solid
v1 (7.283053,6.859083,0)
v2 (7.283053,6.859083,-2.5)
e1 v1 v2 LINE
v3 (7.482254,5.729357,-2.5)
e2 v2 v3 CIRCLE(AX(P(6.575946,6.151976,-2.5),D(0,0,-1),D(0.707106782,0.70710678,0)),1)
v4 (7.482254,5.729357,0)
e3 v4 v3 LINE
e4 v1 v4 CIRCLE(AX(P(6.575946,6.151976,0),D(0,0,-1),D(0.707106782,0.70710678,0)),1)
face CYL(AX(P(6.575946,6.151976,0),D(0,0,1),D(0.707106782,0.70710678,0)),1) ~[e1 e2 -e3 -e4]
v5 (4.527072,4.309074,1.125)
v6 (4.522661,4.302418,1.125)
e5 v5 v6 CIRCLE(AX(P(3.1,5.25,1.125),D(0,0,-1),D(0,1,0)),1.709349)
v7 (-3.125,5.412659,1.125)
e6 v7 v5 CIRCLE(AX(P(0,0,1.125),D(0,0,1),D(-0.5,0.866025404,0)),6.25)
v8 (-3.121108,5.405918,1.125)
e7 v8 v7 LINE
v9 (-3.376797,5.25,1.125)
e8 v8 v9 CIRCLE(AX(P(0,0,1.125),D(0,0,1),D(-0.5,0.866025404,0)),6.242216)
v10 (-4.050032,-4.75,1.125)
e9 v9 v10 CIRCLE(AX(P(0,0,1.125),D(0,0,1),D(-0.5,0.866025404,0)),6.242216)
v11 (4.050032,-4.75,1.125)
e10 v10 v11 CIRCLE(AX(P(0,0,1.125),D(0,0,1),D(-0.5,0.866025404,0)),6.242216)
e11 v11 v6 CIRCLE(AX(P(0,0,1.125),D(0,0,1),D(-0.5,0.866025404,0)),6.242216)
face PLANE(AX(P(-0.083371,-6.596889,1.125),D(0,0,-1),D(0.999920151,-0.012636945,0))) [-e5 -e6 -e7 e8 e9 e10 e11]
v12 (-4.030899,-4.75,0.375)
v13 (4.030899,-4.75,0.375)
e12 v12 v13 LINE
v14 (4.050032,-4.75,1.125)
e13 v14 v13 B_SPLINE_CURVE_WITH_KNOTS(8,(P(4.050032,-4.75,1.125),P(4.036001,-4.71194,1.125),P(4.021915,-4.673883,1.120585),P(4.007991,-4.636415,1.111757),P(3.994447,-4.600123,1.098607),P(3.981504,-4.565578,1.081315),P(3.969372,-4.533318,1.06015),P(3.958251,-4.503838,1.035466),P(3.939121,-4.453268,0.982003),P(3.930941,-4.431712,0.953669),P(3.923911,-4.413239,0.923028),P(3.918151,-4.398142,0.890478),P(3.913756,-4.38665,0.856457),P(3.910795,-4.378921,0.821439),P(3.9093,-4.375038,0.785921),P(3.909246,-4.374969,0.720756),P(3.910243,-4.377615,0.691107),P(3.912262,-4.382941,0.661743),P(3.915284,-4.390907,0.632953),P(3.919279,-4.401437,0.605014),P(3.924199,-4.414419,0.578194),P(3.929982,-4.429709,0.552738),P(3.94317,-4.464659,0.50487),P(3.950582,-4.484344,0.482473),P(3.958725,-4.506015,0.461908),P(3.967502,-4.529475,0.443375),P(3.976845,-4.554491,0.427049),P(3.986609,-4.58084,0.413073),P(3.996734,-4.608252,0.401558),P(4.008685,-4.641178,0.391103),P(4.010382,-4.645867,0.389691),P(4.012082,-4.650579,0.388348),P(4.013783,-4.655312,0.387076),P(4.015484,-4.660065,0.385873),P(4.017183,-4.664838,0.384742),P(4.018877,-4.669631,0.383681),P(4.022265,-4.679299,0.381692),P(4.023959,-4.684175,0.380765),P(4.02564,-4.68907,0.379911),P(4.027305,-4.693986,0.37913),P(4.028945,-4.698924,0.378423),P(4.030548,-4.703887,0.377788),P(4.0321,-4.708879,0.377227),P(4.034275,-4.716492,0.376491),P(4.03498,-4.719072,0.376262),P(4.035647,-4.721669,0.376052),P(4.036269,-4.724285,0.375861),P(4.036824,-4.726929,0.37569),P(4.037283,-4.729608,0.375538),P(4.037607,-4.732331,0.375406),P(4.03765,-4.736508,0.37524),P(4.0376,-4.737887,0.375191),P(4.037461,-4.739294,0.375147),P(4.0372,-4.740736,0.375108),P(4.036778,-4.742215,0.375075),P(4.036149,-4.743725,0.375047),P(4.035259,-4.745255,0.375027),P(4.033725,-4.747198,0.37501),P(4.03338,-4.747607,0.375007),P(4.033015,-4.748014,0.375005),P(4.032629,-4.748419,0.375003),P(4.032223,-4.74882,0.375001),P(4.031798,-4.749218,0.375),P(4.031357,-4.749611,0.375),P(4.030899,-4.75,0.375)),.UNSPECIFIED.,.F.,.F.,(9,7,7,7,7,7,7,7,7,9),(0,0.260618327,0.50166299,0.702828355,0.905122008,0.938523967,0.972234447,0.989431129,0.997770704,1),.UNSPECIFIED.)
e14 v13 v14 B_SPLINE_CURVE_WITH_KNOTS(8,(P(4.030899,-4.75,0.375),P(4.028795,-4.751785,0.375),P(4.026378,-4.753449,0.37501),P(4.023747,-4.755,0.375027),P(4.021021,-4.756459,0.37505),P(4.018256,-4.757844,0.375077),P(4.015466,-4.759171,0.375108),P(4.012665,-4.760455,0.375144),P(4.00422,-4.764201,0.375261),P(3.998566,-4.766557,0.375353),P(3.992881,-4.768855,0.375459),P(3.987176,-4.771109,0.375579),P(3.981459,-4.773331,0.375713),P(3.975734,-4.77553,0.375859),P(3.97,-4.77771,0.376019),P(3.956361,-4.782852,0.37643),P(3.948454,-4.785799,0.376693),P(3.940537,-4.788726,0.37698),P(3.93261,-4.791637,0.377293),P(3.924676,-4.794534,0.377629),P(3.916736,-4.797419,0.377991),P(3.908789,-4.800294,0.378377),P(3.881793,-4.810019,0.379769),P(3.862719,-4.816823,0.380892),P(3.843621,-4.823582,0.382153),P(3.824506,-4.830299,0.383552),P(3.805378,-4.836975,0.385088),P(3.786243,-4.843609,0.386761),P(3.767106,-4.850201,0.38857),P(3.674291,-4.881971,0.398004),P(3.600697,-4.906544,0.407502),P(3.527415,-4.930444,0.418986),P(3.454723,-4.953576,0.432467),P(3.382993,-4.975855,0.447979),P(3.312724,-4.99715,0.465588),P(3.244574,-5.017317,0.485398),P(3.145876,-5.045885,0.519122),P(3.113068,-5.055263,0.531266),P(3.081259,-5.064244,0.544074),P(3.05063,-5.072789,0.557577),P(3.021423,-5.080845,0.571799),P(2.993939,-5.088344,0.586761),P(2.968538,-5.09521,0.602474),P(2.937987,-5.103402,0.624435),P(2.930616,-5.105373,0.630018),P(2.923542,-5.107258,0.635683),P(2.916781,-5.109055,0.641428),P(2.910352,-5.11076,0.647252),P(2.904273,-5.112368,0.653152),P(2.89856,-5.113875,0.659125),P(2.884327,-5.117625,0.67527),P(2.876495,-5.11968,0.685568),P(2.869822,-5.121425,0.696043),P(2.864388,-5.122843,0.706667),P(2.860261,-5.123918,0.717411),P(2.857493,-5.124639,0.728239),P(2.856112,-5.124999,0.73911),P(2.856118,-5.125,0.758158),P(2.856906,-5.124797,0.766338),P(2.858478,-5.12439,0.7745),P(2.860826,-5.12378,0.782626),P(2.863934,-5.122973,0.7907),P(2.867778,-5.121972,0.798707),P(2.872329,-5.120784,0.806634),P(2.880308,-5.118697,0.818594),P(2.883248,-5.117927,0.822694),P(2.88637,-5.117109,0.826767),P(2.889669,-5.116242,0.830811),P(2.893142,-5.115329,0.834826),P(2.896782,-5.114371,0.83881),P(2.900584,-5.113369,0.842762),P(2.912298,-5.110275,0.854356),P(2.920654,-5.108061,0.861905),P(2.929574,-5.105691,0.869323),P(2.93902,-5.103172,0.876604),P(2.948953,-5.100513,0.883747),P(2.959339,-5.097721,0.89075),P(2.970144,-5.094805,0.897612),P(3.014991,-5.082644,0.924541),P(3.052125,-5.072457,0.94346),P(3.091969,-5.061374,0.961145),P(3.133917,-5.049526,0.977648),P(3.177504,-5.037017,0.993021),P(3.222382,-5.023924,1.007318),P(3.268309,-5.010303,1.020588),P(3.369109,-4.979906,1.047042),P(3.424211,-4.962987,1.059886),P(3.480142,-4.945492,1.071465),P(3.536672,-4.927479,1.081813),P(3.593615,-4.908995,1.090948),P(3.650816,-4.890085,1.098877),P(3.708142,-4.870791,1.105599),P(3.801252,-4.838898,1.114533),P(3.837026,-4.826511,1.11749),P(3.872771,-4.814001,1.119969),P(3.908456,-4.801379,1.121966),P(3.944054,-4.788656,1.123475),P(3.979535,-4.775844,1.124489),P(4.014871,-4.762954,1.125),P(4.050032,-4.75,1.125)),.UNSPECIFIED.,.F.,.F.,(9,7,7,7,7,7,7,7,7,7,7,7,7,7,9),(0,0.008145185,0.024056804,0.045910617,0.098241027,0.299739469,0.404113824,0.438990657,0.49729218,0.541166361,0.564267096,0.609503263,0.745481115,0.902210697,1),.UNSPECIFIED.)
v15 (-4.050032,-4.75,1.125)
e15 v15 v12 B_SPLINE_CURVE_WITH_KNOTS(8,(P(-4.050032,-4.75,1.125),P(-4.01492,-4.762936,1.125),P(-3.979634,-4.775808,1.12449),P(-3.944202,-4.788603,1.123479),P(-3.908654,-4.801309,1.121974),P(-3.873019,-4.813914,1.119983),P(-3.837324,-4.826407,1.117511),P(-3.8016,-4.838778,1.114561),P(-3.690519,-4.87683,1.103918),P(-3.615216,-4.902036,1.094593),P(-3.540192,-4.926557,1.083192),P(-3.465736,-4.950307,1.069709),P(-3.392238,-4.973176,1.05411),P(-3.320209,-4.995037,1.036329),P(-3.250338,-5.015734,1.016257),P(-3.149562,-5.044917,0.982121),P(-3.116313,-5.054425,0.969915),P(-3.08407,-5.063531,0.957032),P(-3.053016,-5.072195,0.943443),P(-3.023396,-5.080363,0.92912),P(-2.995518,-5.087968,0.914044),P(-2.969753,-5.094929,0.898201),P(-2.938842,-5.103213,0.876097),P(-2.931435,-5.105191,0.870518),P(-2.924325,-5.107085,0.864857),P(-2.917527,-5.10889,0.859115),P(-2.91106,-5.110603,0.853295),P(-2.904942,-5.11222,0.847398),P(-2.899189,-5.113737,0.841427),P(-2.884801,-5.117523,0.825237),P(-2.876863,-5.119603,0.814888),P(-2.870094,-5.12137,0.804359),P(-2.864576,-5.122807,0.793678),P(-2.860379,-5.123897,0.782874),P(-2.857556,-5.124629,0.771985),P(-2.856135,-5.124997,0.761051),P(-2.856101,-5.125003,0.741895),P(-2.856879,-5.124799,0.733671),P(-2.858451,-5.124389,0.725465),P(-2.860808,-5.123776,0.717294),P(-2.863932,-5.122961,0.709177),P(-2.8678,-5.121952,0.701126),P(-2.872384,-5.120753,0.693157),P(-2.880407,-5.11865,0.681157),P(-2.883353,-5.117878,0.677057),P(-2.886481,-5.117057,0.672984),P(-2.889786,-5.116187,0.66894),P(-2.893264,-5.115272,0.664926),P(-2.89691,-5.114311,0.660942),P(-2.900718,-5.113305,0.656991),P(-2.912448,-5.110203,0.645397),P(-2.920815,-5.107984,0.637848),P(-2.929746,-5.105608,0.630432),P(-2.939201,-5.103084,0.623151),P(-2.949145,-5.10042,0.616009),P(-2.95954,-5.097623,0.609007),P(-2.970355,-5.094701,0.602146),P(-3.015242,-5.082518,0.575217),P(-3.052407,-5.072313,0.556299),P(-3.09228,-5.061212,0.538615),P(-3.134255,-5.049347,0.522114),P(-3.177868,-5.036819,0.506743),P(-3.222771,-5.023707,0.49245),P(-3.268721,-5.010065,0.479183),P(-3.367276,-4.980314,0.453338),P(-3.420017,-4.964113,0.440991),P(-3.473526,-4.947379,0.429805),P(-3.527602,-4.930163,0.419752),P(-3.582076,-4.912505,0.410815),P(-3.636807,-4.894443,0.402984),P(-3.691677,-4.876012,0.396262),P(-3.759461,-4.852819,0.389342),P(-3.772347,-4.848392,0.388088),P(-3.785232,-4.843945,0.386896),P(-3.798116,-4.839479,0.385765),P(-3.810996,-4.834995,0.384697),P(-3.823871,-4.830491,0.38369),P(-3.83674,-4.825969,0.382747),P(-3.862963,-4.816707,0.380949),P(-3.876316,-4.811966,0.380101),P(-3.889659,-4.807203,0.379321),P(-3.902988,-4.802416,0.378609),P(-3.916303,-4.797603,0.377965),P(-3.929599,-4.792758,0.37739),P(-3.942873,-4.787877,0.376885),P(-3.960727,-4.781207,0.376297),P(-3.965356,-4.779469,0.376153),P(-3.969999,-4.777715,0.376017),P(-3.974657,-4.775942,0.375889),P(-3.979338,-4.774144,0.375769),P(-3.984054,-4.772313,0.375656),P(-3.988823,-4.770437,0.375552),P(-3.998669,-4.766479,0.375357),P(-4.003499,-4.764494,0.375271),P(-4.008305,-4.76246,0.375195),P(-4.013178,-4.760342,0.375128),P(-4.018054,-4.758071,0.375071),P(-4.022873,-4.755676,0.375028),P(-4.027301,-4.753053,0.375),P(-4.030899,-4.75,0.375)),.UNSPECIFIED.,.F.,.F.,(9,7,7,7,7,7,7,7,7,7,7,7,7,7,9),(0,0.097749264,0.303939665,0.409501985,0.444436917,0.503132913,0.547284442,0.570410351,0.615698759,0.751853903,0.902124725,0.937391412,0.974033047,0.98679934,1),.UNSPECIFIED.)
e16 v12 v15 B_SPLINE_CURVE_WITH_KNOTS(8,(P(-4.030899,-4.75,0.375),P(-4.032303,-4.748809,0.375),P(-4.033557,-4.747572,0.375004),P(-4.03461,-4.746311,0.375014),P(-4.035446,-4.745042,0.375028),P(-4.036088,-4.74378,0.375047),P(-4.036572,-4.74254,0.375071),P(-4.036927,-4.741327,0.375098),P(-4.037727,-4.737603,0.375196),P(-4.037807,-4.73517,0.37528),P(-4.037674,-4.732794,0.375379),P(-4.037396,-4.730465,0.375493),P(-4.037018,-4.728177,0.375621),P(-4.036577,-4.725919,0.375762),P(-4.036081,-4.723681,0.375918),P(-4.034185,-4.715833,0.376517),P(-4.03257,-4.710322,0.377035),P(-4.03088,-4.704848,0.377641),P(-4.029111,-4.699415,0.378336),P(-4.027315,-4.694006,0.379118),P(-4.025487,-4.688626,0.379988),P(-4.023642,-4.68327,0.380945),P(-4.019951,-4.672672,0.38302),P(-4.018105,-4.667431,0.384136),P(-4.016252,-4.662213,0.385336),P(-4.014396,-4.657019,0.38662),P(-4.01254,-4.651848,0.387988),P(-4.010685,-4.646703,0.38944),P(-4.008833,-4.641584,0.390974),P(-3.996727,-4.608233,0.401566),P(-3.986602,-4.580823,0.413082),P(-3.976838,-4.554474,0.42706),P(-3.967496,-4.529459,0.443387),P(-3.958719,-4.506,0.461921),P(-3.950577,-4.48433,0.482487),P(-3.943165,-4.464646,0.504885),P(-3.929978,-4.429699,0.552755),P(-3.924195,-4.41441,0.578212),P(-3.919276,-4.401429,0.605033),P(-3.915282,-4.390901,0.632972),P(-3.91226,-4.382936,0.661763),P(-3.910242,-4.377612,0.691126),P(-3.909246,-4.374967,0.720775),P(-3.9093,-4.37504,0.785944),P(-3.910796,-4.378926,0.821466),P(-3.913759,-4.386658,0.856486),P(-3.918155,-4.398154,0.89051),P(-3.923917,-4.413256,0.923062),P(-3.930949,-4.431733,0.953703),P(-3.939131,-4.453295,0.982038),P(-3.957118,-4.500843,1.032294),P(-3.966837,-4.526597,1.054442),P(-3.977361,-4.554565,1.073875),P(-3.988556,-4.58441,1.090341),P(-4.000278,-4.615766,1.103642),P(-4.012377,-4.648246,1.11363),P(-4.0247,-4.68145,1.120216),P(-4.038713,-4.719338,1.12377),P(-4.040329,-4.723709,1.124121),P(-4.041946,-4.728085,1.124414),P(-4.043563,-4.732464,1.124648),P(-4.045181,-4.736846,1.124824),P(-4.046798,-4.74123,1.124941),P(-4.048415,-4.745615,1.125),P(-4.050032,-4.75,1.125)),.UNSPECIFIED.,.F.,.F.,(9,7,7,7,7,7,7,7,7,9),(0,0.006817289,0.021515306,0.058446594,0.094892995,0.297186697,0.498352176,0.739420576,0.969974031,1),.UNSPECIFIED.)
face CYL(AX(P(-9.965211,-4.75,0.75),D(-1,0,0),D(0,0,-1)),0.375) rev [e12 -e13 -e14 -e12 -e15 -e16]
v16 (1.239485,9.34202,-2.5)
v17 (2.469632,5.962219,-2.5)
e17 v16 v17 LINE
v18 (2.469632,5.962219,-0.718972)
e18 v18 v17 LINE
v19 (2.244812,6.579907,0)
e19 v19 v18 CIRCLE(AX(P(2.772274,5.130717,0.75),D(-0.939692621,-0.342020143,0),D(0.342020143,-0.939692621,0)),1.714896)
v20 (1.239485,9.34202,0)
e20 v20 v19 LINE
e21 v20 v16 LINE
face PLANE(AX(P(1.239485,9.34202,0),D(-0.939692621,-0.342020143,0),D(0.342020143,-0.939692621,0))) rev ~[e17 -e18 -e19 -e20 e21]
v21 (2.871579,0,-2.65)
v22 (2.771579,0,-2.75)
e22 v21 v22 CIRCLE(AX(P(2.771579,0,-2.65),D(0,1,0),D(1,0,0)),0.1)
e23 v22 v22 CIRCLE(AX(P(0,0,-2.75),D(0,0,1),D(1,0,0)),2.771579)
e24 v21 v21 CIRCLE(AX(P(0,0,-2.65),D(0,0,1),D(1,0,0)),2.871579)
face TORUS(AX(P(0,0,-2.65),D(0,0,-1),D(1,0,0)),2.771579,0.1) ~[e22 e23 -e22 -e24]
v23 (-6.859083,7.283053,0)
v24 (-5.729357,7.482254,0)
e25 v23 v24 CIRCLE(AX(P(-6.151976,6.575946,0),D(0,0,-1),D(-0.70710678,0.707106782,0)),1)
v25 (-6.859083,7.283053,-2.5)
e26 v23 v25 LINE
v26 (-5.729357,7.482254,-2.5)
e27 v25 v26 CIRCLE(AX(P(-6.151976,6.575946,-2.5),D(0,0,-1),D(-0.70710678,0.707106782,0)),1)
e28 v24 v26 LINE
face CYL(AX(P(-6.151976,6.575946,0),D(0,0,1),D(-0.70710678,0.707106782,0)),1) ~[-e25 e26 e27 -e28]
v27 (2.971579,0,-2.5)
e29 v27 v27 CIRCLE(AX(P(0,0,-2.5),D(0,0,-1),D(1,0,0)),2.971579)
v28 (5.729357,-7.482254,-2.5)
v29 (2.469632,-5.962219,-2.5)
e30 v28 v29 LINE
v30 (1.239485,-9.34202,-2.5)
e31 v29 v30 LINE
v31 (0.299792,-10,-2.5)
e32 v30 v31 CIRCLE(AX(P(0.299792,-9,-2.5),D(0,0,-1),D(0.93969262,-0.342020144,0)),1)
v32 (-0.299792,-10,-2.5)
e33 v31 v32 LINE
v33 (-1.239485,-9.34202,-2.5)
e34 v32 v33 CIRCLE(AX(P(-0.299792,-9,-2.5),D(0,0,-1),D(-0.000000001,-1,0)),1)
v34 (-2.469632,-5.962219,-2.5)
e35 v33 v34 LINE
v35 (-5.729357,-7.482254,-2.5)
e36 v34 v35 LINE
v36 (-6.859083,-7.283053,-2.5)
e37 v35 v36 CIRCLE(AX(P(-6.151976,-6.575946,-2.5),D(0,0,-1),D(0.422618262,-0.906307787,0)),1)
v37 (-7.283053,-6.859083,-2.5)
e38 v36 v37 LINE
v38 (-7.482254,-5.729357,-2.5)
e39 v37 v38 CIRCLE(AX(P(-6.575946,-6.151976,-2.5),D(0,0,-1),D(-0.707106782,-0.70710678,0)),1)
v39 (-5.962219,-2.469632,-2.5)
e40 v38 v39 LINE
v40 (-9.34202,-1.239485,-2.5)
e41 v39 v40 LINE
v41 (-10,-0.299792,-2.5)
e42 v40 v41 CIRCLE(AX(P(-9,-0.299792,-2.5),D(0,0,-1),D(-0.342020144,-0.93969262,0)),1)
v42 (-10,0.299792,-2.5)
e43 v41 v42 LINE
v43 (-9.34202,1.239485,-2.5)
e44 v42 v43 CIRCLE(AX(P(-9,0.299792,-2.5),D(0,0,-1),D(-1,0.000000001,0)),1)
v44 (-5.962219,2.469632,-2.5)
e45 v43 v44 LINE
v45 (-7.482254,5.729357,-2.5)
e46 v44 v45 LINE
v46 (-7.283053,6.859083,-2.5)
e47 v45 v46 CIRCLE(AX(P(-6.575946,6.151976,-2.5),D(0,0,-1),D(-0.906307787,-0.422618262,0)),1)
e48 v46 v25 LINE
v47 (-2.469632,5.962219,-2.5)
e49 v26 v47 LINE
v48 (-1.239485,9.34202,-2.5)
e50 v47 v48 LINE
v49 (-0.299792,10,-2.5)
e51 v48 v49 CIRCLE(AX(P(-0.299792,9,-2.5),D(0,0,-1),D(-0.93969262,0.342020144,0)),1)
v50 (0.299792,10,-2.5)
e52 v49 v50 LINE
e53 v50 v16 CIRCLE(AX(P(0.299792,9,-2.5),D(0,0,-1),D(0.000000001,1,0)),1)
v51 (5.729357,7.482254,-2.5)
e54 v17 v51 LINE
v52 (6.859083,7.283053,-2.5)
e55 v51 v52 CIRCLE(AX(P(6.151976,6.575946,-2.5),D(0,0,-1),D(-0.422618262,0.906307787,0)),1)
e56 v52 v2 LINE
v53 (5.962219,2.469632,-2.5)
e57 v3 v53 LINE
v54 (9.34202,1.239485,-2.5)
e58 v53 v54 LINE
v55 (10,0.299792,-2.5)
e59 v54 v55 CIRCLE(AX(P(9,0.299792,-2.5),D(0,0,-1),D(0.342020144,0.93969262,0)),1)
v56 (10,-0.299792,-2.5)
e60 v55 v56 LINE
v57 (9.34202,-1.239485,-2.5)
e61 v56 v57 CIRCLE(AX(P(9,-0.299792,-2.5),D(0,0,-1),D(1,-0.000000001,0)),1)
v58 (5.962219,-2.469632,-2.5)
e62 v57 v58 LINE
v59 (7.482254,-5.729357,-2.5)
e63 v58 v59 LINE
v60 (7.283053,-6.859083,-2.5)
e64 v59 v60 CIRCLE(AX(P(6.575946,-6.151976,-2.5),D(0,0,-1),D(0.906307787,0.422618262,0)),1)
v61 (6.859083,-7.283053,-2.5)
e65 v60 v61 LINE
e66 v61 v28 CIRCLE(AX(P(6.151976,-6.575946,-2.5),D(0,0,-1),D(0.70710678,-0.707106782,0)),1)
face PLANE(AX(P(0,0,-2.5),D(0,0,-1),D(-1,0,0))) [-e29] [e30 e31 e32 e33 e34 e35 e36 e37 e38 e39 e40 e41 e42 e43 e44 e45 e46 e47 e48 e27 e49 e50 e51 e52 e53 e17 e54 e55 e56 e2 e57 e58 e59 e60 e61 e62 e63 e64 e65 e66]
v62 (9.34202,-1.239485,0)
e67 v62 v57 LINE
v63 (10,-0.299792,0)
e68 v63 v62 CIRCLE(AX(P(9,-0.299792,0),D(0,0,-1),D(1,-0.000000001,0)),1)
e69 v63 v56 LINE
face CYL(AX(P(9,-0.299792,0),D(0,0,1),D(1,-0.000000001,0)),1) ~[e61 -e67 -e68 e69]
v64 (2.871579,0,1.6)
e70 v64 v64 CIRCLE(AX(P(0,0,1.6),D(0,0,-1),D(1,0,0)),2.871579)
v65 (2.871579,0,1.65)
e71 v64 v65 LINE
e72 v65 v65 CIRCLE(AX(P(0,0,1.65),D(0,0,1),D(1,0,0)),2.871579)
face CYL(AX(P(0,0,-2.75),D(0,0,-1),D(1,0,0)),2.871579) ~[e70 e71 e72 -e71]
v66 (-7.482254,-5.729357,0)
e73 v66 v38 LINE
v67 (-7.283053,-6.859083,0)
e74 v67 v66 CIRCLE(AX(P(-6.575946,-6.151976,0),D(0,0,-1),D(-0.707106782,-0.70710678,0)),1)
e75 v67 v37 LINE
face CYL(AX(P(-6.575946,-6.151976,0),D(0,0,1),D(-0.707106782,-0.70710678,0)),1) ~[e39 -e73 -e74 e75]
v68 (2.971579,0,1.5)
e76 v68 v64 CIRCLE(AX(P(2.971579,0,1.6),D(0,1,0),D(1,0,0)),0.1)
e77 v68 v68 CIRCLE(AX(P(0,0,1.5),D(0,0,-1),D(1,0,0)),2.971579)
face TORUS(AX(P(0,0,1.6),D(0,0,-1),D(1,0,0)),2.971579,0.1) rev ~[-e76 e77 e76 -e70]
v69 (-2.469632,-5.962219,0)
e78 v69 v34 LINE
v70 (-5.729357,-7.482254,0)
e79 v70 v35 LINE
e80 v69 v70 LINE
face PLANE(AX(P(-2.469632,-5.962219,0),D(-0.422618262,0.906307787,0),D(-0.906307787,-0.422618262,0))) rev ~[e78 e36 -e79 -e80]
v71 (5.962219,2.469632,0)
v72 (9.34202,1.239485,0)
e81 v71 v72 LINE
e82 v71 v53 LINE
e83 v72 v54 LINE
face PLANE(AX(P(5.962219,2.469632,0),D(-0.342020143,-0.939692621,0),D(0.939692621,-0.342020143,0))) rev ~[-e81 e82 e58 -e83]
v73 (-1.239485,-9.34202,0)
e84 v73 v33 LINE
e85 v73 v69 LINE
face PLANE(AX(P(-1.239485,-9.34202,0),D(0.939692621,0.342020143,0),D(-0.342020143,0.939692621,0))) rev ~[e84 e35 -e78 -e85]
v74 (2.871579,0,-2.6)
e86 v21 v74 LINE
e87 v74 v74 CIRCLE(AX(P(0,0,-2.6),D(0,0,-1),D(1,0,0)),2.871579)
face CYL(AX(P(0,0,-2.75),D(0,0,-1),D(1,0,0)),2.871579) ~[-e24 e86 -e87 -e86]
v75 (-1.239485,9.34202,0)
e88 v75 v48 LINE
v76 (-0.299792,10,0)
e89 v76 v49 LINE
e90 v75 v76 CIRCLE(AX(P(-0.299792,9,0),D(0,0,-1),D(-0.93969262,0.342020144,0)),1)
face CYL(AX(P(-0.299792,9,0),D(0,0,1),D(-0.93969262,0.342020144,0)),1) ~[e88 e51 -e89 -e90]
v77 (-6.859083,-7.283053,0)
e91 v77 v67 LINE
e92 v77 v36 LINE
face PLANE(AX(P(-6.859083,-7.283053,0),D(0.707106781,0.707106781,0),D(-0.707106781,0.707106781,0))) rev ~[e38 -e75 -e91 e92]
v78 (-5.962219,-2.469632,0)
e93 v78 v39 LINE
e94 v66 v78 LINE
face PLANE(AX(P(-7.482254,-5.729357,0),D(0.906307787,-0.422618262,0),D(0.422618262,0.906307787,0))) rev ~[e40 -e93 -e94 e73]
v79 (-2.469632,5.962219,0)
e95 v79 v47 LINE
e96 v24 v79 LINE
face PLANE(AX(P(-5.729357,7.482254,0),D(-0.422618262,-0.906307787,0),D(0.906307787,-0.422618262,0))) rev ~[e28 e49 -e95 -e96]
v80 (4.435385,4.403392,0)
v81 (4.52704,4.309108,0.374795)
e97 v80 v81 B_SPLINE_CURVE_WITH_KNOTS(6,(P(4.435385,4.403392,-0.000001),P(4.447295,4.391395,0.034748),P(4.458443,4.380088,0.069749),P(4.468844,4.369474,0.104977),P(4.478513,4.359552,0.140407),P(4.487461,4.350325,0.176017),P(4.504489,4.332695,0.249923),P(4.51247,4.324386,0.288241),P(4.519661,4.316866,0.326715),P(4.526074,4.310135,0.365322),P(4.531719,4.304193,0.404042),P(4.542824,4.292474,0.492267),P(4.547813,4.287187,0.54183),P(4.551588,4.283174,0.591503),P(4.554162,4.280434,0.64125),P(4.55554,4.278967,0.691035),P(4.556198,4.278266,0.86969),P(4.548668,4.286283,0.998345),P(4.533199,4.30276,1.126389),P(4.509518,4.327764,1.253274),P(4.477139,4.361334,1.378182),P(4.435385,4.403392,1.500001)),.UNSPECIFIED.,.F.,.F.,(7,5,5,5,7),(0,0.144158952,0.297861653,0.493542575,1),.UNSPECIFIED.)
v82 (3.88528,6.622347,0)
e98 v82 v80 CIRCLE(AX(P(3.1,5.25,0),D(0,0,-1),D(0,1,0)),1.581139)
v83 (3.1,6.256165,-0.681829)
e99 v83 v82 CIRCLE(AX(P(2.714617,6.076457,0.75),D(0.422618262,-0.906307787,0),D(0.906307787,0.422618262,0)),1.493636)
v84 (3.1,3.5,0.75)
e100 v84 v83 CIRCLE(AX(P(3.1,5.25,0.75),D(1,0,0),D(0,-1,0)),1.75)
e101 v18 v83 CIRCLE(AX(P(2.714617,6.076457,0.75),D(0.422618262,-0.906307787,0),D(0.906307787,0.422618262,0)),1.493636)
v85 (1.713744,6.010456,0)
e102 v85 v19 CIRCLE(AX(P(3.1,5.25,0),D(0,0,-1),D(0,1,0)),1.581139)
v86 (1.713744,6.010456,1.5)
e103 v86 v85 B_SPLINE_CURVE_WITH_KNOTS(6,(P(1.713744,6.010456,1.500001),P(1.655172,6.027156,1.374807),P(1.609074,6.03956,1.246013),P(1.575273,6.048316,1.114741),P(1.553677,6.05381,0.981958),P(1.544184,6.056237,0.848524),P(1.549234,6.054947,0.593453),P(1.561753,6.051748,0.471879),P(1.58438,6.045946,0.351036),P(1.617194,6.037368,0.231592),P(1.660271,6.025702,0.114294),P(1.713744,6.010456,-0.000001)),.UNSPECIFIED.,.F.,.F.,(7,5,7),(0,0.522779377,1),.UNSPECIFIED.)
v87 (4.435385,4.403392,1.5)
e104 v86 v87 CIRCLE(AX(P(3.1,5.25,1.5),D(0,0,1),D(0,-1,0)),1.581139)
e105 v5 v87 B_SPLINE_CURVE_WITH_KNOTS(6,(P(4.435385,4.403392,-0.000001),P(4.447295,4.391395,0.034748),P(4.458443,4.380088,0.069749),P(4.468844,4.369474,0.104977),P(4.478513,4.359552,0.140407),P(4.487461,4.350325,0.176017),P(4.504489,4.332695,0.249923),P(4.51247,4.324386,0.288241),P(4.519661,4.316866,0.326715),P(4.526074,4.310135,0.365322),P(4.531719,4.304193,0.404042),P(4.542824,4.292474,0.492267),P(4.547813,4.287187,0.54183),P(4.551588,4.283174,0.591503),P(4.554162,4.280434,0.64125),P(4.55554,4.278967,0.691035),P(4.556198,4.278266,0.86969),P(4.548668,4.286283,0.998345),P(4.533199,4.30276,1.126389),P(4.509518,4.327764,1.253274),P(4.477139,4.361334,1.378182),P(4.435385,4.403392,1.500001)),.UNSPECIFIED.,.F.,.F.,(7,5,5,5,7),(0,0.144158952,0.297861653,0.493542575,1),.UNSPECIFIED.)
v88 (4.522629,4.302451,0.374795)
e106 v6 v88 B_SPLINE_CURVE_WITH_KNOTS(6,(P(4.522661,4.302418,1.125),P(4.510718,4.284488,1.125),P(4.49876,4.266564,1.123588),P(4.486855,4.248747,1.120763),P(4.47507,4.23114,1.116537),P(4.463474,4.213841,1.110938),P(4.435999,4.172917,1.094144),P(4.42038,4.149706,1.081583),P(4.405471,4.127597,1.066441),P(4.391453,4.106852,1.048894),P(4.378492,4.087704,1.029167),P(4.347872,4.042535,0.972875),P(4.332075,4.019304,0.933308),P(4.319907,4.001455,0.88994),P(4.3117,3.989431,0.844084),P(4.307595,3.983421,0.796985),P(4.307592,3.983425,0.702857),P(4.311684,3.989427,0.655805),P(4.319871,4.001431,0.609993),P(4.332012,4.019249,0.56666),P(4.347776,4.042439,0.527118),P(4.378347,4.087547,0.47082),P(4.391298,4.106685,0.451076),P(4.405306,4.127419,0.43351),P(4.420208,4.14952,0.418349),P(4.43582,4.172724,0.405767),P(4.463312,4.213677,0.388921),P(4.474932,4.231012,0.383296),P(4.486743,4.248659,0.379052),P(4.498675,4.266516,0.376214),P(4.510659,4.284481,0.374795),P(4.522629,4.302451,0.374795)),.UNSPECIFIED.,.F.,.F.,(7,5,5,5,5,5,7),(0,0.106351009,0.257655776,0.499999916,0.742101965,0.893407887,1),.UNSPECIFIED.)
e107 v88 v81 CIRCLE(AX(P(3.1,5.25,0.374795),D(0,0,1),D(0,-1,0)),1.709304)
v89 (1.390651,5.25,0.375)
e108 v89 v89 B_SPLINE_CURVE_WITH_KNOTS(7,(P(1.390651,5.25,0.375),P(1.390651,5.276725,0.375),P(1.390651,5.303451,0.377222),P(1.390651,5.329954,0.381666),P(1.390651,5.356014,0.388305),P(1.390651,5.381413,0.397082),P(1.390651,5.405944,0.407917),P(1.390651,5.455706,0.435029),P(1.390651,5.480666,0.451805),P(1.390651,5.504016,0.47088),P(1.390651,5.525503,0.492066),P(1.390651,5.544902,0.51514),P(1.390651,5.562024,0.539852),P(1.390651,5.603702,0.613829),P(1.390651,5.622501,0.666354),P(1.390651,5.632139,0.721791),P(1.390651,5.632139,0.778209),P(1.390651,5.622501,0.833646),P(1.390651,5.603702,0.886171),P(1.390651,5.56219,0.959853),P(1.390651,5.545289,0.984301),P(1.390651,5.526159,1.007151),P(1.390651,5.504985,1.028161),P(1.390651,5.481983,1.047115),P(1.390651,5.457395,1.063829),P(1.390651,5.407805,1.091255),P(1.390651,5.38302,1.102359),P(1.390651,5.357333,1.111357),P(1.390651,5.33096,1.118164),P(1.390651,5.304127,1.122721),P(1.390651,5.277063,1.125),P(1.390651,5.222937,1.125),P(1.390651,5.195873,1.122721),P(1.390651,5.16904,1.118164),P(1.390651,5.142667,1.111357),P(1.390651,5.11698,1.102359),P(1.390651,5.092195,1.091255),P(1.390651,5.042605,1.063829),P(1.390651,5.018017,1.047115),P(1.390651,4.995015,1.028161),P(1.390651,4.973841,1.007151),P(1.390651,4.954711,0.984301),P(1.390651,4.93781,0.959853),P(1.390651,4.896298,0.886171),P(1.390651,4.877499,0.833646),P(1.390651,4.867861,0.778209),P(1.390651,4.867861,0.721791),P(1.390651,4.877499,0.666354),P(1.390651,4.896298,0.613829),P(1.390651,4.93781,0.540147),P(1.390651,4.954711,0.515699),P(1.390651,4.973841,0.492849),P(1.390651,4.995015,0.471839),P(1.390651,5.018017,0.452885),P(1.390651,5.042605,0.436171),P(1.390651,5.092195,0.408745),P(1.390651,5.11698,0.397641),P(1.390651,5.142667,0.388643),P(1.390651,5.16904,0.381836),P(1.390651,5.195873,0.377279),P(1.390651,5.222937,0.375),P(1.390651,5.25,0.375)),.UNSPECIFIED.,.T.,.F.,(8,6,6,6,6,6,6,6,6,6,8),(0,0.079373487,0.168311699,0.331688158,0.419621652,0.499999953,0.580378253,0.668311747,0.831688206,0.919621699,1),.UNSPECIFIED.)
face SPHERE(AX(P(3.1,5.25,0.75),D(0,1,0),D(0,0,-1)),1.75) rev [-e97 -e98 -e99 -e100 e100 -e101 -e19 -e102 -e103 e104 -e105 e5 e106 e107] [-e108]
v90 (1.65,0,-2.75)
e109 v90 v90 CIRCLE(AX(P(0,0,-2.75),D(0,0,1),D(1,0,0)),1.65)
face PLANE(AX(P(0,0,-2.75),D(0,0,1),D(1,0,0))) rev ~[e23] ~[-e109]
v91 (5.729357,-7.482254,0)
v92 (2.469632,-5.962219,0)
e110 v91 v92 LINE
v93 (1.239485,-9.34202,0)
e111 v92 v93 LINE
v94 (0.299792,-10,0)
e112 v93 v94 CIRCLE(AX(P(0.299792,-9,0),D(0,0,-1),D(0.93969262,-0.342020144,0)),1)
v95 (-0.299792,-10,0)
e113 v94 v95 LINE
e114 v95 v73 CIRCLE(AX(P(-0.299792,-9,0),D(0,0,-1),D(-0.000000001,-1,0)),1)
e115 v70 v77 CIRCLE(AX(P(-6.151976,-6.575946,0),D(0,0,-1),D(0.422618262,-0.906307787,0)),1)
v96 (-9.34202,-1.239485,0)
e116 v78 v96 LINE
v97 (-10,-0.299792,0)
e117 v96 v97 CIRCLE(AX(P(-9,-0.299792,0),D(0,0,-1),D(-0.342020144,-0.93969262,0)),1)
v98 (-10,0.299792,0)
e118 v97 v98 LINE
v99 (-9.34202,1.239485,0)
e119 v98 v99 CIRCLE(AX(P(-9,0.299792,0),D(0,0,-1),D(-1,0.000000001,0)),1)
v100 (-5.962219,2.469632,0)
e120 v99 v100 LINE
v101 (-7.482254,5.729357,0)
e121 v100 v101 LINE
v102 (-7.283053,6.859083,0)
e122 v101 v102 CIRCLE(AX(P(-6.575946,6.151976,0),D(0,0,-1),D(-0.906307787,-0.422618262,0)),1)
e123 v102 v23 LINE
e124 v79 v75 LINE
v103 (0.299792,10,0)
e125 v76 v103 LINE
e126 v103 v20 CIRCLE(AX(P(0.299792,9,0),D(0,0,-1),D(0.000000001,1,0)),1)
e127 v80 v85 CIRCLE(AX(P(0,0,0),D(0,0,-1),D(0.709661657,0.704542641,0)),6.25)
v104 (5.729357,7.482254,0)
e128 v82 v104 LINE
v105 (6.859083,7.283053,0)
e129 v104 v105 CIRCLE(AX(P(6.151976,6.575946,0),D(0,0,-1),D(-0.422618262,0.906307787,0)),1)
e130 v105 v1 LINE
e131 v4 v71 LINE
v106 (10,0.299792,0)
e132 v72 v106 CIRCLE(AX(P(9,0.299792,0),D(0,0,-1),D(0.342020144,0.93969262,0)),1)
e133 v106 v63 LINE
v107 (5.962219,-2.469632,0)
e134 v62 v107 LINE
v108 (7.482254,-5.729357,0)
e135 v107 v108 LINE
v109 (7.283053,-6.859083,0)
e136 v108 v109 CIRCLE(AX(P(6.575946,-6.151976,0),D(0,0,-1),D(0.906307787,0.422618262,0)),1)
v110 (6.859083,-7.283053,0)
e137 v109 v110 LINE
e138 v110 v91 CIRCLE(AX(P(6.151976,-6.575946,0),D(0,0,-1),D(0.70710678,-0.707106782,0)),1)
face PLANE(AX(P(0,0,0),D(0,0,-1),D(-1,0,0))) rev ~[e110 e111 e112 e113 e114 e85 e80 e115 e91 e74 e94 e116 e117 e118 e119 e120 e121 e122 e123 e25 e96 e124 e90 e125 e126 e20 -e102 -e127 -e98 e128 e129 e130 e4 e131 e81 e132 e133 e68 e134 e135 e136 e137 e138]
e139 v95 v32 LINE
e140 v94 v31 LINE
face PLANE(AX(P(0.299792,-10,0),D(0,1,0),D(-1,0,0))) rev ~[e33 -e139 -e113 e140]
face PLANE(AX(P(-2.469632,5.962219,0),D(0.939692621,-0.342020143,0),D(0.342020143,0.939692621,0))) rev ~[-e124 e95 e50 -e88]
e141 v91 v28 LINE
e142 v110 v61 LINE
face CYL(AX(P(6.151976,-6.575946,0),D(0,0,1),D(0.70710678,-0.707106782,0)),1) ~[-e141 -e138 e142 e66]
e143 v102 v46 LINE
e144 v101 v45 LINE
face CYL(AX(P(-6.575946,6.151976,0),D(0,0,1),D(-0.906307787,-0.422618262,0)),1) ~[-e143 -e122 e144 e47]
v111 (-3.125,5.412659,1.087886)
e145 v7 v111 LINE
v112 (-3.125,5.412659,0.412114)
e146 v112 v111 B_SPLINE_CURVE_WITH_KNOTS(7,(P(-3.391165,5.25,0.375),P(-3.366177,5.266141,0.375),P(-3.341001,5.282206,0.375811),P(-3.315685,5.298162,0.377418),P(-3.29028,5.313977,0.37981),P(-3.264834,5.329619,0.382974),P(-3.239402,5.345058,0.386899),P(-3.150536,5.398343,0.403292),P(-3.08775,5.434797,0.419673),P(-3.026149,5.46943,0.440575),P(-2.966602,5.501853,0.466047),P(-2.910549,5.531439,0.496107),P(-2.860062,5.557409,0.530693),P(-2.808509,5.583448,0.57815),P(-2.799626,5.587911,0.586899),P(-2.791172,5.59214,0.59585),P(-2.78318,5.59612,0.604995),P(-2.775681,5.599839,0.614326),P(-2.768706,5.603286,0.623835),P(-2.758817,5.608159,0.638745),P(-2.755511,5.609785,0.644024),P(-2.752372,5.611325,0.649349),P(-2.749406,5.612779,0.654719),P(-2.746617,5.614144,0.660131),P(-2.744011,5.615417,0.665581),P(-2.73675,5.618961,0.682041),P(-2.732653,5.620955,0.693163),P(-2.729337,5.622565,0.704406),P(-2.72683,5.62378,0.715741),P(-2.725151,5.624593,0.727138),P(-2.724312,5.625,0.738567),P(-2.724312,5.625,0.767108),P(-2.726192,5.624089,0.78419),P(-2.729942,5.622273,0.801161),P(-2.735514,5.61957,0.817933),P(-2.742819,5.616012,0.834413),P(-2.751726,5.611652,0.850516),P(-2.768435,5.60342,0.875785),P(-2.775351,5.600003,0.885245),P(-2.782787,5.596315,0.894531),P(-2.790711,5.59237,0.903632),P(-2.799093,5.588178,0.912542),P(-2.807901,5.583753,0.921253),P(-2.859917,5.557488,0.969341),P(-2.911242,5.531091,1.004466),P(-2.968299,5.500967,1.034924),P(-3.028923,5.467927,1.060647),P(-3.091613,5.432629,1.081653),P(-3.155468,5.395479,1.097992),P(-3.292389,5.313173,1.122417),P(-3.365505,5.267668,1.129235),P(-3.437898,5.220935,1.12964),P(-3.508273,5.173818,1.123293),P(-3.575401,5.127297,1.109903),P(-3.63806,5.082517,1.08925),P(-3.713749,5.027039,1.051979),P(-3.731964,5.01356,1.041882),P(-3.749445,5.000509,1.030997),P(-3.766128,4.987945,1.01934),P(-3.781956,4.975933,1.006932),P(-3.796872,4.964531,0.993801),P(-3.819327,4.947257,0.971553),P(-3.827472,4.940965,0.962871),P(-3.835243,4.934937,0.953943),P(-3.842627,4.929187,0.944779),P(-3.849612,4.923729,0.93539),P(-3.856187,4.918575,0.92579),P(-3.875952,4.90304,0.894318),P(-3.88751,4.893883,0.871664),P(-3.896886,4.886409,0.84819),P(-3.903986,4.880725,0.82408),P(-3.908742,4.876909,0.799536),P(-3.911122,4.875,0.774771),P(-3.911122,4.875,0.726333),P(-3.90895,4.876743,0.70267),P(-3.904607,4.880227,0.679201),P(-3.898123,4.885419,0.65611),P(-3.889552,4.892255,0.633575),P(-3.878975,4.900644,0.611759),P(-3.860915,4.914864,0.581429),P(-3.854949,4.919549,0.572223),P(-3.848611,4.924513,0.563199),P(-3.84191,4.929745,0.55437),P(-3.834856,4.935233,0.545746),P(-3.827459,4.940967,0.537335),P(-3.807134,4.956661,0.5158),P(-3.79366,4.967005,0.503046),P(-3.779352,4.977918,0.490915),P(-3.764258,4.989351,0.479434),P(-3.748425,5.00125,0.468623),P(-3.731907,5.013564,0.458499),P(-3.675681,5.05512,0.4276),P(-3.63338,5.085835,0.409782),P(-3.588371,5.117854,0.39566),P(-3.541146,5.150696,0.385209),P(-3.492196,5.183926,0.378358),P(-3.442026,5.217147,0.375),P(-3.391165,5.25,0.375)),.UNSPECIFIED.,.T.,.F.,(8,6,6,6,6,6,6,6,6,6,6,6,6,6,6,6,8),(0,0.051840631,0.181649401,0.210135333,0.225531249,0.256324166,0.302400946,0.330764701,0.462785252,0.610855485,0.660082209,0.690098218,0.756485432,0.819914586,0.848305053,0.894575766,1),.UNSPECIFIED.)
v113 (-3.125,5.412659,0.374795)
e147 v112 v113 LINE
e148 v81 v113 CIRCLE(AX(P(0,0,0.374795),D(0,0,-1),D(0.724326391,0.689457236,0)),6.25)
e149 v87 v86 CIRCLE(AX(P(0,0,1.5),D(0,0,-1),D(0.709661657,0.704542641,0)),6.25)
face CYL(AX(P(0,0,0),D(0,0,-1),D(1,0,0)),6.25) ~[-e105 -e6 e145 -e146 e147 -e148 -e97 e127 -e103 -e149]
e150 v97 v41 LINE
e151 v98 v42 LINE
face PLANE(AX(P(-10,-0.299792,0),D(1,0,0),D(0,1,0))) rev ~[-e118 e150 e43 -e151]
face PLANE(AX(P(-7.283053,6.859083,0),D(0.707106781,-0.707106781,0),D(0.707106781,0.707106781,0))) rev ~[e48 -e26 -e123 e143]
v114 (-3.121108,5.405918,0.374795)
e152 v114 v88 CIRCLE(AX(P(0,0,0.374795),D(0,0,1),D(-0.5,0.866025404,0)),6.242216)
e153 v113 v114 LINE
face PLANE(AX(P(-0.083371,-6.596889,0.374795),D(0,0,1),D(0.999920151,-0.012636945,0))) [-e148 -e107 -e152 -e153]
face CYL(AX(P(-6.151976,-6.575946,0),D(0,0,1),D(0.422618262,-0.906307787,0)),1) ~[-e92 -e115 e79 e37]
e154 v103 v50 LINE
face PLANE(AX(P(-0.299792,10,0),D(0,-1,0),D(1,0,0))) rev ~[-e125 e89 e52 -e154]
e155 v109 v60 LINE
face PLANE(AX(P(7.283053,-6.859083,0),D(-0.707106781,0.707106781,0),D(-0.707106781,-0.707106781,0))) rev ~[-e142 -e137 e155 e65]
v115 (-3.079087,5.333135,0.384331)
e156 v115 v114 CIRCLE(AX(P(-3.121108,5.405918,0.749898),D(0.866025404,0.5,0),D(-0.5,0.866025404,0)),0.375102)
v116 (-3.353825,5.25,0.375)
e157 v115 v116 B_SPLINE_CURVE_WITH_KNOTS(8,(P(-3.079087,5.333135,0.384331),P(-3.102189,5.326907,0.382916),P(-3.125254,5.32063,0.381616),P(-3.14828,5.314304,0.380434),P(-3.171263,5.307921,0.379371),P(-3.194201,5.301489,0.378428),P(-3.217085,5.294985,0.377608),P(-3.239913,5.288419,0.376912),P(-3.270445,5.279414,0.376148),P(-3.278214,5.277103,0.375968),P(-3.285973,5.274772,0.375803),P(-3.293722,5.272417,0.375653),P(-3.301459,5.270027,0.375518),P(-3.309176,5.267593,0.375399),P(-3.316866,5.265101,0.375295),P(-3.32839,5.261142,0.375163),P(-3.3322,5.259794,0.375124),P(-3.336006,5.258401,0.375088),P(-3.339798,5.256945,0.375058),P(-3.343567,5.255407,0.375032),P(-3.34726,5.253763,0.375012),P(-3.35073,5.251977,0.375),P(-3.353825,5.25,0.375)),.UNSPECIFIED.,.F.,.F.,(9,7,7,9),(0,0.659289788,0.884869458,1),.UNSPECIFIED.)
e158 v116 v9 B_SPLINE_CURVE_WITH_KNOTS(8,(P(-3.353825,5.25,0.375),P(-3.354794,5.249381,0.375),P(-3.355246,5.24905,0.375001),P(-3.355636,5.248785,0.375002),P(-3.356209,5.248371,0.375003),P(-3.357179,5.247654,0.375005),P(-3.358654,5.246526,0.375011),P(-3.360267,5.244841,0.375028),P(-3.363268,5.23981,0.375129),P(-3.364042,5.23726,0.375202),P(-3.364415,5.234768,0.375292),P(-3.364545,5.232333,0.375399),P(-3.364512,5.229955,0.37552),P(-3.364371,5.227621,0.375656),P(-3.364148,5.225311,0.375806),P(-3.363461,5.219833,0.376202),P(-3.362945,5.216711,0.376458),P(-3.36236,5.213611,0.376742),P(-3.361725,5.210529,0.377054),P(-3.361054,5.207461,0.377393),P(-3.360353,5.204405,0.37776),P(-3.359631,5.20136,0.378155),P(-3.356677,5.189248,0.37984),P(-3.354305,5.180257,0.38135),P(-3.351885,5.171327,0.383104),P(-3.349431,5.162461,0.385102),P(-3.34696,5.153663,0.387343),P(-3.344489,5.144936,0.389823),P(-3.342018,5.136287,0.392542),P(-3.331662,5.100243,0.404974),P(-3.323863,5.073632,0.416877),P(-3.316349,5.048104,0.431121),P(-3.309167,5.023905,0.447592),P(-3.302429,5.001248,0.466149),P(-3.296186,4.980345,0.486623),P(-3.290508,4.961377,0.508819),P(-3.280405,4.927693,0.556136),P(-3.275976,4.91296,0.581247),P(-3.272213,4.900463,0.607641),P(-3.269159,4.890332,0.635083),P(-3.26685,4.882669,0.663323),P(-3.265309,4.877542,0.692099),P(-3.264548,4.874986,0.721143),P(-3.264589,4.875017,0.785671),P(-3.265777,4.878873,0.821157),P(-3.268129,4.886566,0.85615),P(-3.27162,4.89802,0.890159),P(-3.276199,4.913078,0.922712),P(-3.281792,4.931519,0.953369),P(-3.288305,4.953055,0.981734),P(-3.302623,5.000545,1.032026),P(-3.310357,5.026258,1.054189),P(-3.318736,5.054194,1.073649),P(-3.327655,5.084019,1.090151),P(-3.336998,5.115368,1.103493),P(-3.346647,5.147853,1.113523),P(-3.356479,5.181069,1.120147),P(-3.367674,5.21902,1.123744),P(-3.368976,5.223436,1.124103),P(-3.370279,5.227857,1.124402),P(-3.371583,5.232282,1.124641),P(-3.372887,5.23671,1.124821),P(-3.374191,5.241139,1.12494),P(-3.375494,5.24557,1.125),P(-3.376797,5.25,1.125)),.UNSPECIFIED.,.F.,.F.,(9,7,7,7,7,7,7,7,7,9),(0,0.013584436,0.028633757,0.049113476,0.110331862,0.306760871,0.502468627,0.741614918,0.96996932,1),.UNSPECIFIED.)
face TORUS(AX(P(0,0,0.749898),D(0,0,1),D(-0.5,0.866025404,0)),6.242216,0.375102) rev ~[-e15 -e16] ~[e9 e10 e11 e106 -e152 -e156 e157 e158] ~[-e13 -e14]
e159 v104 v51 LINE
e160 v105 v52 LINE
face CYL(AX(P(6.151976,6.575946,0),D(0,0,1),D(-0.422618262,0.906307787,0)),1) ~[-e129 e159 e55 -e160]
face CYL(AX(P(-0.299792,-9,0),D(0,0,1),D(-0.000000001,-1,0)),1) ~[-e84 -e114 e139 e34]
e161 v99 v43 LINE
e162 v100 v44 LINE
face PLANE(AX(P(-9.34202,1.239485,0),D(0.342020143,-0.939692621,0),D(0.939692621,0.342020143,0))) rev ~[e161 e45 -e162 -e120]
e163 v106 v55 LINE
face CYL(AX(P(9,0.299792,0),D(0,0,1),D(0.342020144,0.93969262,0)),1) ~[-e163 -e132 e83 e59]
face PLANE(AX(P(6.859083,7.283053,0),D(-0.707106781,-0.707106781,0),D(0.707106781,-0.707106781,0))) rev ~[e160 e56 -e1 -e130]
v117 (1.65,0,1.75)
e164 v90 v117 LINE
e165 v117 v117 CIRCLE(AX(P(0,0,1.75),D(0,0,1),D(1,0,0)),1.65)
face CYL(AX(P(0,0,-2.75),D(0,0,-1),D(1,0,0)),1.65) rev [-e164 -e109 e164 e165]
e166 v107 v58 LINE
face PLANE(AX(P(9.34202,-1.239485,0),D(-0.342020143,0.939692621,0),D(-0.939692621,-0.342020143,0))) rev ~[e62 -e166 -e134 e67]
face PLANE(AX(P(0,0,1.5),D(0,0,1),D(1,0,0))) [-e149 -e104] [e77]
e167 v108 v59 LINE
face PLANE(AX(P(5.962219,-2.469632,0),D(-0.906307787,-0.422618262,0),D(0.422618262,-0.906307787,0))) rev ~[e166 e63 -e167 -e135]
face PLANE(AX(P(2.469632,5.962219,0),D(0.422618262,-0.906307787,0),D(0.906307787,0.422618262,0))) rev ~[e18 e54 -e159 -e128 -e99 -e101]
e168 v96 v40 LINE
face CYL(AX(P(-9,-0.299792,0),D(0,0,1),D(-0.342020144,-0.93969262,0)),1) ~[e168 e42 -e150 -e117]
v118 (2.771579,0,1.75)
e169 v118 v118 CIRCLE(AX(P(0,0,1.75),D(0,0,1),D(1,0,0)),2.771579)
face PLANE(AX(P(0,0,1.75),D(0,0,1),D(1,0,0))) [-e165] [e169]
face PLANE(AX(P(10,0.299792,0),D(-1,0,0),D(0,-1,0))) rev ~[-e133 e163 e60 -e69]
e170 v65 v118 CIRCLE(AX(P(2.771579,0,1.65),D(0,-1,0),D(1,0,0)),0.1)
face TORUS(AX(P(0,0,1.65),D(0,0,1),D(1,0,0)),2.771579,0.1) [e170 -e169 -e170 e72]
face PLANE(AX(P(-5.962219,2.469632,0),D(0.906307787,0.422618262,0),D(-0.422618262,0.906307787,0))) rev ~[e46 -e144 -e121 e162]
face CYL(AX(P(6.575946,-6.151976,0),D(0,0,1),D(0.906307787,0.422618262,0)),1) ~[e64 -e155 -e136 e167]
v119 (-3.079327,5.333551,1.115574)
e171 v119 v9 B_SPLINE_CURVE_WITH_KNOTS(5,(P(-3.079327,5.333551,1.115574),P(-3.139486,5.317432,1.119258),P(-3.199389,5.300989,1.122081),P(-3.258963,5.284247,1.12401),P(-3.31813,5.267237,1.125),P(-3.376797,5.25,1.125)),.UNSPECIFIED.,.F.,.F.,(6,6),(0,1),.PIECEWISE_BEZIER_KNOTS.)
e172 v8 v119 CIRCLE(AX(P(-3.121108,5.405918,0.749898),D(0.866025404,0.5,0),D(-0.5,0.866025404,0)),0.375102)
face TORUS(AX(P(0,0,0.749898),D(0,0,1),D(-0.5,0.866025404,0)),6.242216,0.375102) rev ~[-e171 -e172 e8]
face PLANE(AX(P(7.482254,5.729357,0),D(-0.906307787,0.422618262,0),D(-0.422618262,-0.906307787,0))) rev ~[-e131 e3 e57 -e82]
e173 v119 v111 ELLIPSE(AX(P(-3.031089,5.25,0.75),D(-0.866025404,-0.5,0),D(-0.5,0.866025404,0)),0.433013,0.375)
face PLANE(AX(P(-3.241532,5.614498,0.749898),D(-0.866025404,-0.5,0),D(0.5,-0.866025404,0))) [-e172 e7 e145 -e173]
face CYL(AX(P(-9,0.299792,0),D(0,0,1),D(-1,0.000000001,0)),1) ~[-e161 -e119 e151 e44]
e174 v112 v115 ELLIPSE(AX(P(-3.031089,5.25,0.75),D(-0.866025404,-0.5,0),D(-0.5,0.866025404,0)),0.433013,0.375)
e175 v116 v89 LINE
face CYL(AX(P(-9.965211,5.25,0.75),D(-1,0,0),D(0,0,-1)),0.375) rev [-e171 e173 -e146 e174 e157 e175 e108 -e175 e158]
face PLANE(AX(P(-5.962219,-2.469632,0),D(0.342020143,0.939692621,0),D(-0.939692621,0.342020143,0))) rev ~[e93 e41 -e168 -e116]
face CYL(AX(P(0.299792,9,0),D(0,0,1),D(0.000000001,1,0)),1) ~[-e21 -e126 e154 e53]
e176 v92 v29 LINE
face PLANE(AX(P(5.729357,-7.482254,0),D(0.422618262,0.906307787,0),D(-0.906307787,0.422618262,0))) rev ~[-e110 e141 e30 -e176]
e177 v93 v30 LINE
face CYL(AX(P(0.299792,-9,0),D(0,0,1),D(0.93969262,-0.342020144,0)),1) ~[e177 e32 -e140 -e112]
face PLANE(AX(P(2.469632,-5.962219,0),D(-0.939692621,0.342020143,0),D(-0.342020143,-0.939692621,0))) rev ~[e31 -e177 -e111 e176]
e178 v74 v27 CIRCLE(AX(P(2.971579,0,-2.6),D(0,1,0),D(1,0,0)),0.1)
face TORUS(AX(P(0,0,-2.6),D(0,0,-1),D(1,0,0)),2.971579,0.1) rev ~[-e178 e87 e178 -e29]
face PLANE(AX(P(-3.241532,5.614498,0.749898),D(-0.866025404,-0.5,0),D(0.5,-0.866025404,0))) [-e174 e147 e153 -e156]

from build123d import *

# Parameters (mm, degrees)
SKETCH1_R                          = 6.25
BODY_DEPTH                         = 1.5
HOLE_TO_TRAP_CABLE_KNOT_DEPTH      = 10
HOLE_TO_TRAP_CABLE_KNOT_DEPTH_BACK = 9.965210539
SKETCH2_R                          = 0.375
THUMB_GRIP_DEPTH                   = 2.5
SKETCH13_R                         = 1.65
HOLE_FOR_SCREW_DEPTH               = 15.696938457
LIP_TO_CONTACT_HANDLE_DEPTH        = 0.25
LIP_TO_CONTACT_HANDLE_DEPTH_BACK   = 4.25
SKETCH21_R                         = 2.871579249
SKETCH21_R_2                       = 1.65
FILLET1_R                          = 0.1


with BuildPart() as part:
    # Sketch1 → body (new body)
    with BuildSketch(Plane.XY):
        Circle(SKETCH1_R)
    extrude(amount=BODY_DEPTH)

    # Sketch2 → Hole to trap cable knot (cut, two sides: drawn at the far end of the back side and taken through both)
    with BuildSketch(Plane(origin=(0, 0, 0), x_dir=(0, 0, -1), z_dir=(1, 0, 0)).offset(-HOLE_TO_TRAP_CABLE_KNOT_DEPTH_BACK)):
        with Locations((-0.75, 5.25)):
            Circle(SKETCH2_R)
        with Locations((-0.75, -4.75)):
            Circle(SKETCH2_R)
    extrude(amount=HOLE_TO_TRAP_CABLE_KNOT_DEPTH + HOLE_TO_TRAP_CABLE_KNOT_DEPTH_BACK, mode=Mode.SUBTRACT)

    # track for cable: sweep along a path in Sketch6
    with BuildLine(Plane.XY.offset(1.875)) as track_for_cable_path:
        ThreePointArc((-3.125, 5.412658774), (-0.078980905, -6.249500941), (3.260789939, 5.331955455))
    # Sketch10 → track for cable (sweep, cut)
    with BuildSketch(Plane(origin=(-5.412658774, 9.375, 0), x_dir=(-0.4999999999999889, 0.866025403784445, 0), z_dir=(-0.866025403784445, -0.4999999999999889, 0))):
        with BuildLine():
            Line((-4.583101682, -1.125), (-3.872701536, -1.125))
            Line((-3.872701536, -1.125), (-3.872701536, -0.374795087))
            Line((-3.872701536, -0.374795087), (-4.583101682, -0.374795087))
            ThreePointArc((-4.583101682, -0.374795087), (-4.958204138, -0.749897543), (-4.583101682, -1.125))
        make_face()
    sweep(path=track_for_cable_path.line, mode=Mode.SUBTRACT)

    # Sketch14 → thumb grip (add)
    with BuildSketch(Plane(origin=(0, 0, 0), x_dir=(-1, 0, 0), z_dir=(0, 0, -1))):
        with BuildLine():
            Line((5.729357486, 7.4822541), (2.469632038, 5.96221916))
            Line((2.469632038, 5.96221916), (1.239485083, 9.342020143))
            ThreePointArc((1.239485083, 9.342020143), (0.873368898, 9.819152044), (0.299792462, 10))
            Line((0.299792462, 10), (-0.299792462, 10))
            ThreePointArc((-0.299792462, 10), (-0.873368898, 9.819152044), (-1.239485083, 9.342020143))
            Line((-1.239485083, 9.342020143), (-2.469632038, 5.96221916))
            Line((-2.469632038, 5.96221916), (-5.729357486, 7.4822541))
            ThreePointArc((-5.729357486, 7.4822541), (-6.325623926, 7.560754066), (-6.859082529, 7.283053095))
            Line((-6.859082529, 7.283053095), (-7.283053095, 6.859082529))
            ThreePointArc((-7.283053095, 6.859082529), (-7.560754066, 6.325623926), (-7.4822541, 5.729357486))
            Line((-7.4822541, 5.729357486), (-5.96221916, 2.469632038))
            Line((-5.96221916, 2.469632038), (-9.342020143, 1.239485083))
            ThreePointArc((-9.342020143, 1.239485083), (-9.819152044, 0.873368898), (-10, 0.299792462))
            Line((-10, 0.299792462), (-10, -0.299792462))
            ThreePointArc((-10, -0.299792462), (-9.819152044, -0.873368898), (-9.342020143, -1.239485083))
            Line((-9.342020143, -1.239485083), (-5.96221916, -2.469632038))
            Line((-5.96221916, -2.469632038), (-7.4822541, -5.729357486))
            ThreePointArc((-7.4822541, -5.729357486), (-7.560754066, -6.325623926), (-7.283053095, -6.859082529))
            Line((-7.283053095, -6.859082529), (-6.859082529, -7.283053095))
            ThreePointArc((-6.859082529, -7.283053095), (-6.325623926, -7.560754066), (-5.729357486, -7.4822541))
            Line((-5.729357486, -7.4822541), (-2.469632038, -5.96221916))
            Line((-2.469632038, -5.96221916), (-1.239485083, -9.342020143))
            ThreePointArc((-1.239485083, -9.342020143), (-0.873368898, -9.819152044), (-0.299792462, -10))
            Line((-0.299792462, -10), (0.299792462, -10))
            ThreePointArc((0.299792462, -10), (0.873368898, -9.819152044), (1.239485083, -9.342020143))
            Line((1.239485083, -9.342020143), (2.469632038, -5.96221916))
            Line((2.469632038, -5.96221916), (5.729357486, -7.4822541))
            ThreePointArc((5.729357486, -7.4822541), (6.325623926, -7.560754066), (6.859082529, -7.283053095))
            Line((6.859082529, -7.283053095), (7.283053095, -6.859082529))
            ThreePointArc((7.283053095, -6.859082529), (7.560754066, -6.325623926), (7.4822541, -5.729357486))
            Line((7.4822541, -5.729357486), (5.96221916, -2.469632038))
            Line((5.96221916, -2.469632038), (9.342020143, -1.239485083))
            ThreePointArc((9.342020143, -1.239485083), (9.819152044, -0.873368898), (10, -0.299792462))
            Line((10, -0.299792462), (10, 0.299792462))
            ThreePointArc((10, 0.299792462), (9.819152044, 0.873368898), (9.342020143, 1.239485083))
            Line((9.342020143, 1.239485083), (5.96221916, 2.469632038))
            Line((5.96221916, 2.469632038), (7.4822541, 5.729357486))
            ThreePointArc((7.4822541, 5.729357486), (7.560754066, 6.325623926), (7.283053095, 6.859082529))
            Line((7.283053095, 6.859082529), (6.859082529, 7.283053095))
            ThreePointArc((6.859082529, 7.283053095), (6.325623926, 7.560754066), (5.729357486, 7.4822541))
        make_face()
    extrude(amount=THUMB_GRIP_DEPTH)

    # Sketch13 → hole for screw (cut, through all)
    with BuildSketch(Plane.XY.offset(1.5)):
        Circle(SKETCH13_R)
    extrude(amount=-HOLE_FOR_SCREW_DEPTH, mode=Mode.SUBTRACT)

    # Sketch20 → trap for ball (revolve, cut)
    with BuildSketch(Plane(origin=(3.1, 0, 0), x_dir=(0, 0, -1), z_dir=(1, 0, 0))):
        with BuildLine():
            Line((-0.75, 7), (-0.75, 3.5))
            ThreePointArc((-0.75, 3.5), (1, 5.25), (-0.75, 7))
        make_face()
    revolve(axis=Axis((3.1, 7.793428849, 0.75), (0, -1, 0)), mode=Mode.SUBTRACT)

    # Sketch21 → lip to contact handle (add, two sides: drawn at the far end of the back side and taken through both)
    with BuildSketch(Plane.XY.offset(1.5).offset(-LIP_TO_CONTACT_HANDLE_DEPTH_BACK)):
        Circle(SKETCH21_R)
        Circle(SKETCH21_R_2, mode=Mode.SUBTRACT)
    extrude(amount=LIP_TO_CONTACT_HANDLE_DEPTH + LIP_TO_CONTACT_HANDLE_DEPTH_BACK)

    # Fillet1
    fillet1_edges = [part.edges().sort_by_distance(p)[0] for p in [
        (-2.871579249, 0, 1.5),
        (-2.871579249, 0, 1.75),
        (-2.871579249, 0, -2.5),
        (-2.871579249, 0, -2.75),
    ]]
    fillet(fillet1_edges, radius=FILLET1_R)


solid = part.part
